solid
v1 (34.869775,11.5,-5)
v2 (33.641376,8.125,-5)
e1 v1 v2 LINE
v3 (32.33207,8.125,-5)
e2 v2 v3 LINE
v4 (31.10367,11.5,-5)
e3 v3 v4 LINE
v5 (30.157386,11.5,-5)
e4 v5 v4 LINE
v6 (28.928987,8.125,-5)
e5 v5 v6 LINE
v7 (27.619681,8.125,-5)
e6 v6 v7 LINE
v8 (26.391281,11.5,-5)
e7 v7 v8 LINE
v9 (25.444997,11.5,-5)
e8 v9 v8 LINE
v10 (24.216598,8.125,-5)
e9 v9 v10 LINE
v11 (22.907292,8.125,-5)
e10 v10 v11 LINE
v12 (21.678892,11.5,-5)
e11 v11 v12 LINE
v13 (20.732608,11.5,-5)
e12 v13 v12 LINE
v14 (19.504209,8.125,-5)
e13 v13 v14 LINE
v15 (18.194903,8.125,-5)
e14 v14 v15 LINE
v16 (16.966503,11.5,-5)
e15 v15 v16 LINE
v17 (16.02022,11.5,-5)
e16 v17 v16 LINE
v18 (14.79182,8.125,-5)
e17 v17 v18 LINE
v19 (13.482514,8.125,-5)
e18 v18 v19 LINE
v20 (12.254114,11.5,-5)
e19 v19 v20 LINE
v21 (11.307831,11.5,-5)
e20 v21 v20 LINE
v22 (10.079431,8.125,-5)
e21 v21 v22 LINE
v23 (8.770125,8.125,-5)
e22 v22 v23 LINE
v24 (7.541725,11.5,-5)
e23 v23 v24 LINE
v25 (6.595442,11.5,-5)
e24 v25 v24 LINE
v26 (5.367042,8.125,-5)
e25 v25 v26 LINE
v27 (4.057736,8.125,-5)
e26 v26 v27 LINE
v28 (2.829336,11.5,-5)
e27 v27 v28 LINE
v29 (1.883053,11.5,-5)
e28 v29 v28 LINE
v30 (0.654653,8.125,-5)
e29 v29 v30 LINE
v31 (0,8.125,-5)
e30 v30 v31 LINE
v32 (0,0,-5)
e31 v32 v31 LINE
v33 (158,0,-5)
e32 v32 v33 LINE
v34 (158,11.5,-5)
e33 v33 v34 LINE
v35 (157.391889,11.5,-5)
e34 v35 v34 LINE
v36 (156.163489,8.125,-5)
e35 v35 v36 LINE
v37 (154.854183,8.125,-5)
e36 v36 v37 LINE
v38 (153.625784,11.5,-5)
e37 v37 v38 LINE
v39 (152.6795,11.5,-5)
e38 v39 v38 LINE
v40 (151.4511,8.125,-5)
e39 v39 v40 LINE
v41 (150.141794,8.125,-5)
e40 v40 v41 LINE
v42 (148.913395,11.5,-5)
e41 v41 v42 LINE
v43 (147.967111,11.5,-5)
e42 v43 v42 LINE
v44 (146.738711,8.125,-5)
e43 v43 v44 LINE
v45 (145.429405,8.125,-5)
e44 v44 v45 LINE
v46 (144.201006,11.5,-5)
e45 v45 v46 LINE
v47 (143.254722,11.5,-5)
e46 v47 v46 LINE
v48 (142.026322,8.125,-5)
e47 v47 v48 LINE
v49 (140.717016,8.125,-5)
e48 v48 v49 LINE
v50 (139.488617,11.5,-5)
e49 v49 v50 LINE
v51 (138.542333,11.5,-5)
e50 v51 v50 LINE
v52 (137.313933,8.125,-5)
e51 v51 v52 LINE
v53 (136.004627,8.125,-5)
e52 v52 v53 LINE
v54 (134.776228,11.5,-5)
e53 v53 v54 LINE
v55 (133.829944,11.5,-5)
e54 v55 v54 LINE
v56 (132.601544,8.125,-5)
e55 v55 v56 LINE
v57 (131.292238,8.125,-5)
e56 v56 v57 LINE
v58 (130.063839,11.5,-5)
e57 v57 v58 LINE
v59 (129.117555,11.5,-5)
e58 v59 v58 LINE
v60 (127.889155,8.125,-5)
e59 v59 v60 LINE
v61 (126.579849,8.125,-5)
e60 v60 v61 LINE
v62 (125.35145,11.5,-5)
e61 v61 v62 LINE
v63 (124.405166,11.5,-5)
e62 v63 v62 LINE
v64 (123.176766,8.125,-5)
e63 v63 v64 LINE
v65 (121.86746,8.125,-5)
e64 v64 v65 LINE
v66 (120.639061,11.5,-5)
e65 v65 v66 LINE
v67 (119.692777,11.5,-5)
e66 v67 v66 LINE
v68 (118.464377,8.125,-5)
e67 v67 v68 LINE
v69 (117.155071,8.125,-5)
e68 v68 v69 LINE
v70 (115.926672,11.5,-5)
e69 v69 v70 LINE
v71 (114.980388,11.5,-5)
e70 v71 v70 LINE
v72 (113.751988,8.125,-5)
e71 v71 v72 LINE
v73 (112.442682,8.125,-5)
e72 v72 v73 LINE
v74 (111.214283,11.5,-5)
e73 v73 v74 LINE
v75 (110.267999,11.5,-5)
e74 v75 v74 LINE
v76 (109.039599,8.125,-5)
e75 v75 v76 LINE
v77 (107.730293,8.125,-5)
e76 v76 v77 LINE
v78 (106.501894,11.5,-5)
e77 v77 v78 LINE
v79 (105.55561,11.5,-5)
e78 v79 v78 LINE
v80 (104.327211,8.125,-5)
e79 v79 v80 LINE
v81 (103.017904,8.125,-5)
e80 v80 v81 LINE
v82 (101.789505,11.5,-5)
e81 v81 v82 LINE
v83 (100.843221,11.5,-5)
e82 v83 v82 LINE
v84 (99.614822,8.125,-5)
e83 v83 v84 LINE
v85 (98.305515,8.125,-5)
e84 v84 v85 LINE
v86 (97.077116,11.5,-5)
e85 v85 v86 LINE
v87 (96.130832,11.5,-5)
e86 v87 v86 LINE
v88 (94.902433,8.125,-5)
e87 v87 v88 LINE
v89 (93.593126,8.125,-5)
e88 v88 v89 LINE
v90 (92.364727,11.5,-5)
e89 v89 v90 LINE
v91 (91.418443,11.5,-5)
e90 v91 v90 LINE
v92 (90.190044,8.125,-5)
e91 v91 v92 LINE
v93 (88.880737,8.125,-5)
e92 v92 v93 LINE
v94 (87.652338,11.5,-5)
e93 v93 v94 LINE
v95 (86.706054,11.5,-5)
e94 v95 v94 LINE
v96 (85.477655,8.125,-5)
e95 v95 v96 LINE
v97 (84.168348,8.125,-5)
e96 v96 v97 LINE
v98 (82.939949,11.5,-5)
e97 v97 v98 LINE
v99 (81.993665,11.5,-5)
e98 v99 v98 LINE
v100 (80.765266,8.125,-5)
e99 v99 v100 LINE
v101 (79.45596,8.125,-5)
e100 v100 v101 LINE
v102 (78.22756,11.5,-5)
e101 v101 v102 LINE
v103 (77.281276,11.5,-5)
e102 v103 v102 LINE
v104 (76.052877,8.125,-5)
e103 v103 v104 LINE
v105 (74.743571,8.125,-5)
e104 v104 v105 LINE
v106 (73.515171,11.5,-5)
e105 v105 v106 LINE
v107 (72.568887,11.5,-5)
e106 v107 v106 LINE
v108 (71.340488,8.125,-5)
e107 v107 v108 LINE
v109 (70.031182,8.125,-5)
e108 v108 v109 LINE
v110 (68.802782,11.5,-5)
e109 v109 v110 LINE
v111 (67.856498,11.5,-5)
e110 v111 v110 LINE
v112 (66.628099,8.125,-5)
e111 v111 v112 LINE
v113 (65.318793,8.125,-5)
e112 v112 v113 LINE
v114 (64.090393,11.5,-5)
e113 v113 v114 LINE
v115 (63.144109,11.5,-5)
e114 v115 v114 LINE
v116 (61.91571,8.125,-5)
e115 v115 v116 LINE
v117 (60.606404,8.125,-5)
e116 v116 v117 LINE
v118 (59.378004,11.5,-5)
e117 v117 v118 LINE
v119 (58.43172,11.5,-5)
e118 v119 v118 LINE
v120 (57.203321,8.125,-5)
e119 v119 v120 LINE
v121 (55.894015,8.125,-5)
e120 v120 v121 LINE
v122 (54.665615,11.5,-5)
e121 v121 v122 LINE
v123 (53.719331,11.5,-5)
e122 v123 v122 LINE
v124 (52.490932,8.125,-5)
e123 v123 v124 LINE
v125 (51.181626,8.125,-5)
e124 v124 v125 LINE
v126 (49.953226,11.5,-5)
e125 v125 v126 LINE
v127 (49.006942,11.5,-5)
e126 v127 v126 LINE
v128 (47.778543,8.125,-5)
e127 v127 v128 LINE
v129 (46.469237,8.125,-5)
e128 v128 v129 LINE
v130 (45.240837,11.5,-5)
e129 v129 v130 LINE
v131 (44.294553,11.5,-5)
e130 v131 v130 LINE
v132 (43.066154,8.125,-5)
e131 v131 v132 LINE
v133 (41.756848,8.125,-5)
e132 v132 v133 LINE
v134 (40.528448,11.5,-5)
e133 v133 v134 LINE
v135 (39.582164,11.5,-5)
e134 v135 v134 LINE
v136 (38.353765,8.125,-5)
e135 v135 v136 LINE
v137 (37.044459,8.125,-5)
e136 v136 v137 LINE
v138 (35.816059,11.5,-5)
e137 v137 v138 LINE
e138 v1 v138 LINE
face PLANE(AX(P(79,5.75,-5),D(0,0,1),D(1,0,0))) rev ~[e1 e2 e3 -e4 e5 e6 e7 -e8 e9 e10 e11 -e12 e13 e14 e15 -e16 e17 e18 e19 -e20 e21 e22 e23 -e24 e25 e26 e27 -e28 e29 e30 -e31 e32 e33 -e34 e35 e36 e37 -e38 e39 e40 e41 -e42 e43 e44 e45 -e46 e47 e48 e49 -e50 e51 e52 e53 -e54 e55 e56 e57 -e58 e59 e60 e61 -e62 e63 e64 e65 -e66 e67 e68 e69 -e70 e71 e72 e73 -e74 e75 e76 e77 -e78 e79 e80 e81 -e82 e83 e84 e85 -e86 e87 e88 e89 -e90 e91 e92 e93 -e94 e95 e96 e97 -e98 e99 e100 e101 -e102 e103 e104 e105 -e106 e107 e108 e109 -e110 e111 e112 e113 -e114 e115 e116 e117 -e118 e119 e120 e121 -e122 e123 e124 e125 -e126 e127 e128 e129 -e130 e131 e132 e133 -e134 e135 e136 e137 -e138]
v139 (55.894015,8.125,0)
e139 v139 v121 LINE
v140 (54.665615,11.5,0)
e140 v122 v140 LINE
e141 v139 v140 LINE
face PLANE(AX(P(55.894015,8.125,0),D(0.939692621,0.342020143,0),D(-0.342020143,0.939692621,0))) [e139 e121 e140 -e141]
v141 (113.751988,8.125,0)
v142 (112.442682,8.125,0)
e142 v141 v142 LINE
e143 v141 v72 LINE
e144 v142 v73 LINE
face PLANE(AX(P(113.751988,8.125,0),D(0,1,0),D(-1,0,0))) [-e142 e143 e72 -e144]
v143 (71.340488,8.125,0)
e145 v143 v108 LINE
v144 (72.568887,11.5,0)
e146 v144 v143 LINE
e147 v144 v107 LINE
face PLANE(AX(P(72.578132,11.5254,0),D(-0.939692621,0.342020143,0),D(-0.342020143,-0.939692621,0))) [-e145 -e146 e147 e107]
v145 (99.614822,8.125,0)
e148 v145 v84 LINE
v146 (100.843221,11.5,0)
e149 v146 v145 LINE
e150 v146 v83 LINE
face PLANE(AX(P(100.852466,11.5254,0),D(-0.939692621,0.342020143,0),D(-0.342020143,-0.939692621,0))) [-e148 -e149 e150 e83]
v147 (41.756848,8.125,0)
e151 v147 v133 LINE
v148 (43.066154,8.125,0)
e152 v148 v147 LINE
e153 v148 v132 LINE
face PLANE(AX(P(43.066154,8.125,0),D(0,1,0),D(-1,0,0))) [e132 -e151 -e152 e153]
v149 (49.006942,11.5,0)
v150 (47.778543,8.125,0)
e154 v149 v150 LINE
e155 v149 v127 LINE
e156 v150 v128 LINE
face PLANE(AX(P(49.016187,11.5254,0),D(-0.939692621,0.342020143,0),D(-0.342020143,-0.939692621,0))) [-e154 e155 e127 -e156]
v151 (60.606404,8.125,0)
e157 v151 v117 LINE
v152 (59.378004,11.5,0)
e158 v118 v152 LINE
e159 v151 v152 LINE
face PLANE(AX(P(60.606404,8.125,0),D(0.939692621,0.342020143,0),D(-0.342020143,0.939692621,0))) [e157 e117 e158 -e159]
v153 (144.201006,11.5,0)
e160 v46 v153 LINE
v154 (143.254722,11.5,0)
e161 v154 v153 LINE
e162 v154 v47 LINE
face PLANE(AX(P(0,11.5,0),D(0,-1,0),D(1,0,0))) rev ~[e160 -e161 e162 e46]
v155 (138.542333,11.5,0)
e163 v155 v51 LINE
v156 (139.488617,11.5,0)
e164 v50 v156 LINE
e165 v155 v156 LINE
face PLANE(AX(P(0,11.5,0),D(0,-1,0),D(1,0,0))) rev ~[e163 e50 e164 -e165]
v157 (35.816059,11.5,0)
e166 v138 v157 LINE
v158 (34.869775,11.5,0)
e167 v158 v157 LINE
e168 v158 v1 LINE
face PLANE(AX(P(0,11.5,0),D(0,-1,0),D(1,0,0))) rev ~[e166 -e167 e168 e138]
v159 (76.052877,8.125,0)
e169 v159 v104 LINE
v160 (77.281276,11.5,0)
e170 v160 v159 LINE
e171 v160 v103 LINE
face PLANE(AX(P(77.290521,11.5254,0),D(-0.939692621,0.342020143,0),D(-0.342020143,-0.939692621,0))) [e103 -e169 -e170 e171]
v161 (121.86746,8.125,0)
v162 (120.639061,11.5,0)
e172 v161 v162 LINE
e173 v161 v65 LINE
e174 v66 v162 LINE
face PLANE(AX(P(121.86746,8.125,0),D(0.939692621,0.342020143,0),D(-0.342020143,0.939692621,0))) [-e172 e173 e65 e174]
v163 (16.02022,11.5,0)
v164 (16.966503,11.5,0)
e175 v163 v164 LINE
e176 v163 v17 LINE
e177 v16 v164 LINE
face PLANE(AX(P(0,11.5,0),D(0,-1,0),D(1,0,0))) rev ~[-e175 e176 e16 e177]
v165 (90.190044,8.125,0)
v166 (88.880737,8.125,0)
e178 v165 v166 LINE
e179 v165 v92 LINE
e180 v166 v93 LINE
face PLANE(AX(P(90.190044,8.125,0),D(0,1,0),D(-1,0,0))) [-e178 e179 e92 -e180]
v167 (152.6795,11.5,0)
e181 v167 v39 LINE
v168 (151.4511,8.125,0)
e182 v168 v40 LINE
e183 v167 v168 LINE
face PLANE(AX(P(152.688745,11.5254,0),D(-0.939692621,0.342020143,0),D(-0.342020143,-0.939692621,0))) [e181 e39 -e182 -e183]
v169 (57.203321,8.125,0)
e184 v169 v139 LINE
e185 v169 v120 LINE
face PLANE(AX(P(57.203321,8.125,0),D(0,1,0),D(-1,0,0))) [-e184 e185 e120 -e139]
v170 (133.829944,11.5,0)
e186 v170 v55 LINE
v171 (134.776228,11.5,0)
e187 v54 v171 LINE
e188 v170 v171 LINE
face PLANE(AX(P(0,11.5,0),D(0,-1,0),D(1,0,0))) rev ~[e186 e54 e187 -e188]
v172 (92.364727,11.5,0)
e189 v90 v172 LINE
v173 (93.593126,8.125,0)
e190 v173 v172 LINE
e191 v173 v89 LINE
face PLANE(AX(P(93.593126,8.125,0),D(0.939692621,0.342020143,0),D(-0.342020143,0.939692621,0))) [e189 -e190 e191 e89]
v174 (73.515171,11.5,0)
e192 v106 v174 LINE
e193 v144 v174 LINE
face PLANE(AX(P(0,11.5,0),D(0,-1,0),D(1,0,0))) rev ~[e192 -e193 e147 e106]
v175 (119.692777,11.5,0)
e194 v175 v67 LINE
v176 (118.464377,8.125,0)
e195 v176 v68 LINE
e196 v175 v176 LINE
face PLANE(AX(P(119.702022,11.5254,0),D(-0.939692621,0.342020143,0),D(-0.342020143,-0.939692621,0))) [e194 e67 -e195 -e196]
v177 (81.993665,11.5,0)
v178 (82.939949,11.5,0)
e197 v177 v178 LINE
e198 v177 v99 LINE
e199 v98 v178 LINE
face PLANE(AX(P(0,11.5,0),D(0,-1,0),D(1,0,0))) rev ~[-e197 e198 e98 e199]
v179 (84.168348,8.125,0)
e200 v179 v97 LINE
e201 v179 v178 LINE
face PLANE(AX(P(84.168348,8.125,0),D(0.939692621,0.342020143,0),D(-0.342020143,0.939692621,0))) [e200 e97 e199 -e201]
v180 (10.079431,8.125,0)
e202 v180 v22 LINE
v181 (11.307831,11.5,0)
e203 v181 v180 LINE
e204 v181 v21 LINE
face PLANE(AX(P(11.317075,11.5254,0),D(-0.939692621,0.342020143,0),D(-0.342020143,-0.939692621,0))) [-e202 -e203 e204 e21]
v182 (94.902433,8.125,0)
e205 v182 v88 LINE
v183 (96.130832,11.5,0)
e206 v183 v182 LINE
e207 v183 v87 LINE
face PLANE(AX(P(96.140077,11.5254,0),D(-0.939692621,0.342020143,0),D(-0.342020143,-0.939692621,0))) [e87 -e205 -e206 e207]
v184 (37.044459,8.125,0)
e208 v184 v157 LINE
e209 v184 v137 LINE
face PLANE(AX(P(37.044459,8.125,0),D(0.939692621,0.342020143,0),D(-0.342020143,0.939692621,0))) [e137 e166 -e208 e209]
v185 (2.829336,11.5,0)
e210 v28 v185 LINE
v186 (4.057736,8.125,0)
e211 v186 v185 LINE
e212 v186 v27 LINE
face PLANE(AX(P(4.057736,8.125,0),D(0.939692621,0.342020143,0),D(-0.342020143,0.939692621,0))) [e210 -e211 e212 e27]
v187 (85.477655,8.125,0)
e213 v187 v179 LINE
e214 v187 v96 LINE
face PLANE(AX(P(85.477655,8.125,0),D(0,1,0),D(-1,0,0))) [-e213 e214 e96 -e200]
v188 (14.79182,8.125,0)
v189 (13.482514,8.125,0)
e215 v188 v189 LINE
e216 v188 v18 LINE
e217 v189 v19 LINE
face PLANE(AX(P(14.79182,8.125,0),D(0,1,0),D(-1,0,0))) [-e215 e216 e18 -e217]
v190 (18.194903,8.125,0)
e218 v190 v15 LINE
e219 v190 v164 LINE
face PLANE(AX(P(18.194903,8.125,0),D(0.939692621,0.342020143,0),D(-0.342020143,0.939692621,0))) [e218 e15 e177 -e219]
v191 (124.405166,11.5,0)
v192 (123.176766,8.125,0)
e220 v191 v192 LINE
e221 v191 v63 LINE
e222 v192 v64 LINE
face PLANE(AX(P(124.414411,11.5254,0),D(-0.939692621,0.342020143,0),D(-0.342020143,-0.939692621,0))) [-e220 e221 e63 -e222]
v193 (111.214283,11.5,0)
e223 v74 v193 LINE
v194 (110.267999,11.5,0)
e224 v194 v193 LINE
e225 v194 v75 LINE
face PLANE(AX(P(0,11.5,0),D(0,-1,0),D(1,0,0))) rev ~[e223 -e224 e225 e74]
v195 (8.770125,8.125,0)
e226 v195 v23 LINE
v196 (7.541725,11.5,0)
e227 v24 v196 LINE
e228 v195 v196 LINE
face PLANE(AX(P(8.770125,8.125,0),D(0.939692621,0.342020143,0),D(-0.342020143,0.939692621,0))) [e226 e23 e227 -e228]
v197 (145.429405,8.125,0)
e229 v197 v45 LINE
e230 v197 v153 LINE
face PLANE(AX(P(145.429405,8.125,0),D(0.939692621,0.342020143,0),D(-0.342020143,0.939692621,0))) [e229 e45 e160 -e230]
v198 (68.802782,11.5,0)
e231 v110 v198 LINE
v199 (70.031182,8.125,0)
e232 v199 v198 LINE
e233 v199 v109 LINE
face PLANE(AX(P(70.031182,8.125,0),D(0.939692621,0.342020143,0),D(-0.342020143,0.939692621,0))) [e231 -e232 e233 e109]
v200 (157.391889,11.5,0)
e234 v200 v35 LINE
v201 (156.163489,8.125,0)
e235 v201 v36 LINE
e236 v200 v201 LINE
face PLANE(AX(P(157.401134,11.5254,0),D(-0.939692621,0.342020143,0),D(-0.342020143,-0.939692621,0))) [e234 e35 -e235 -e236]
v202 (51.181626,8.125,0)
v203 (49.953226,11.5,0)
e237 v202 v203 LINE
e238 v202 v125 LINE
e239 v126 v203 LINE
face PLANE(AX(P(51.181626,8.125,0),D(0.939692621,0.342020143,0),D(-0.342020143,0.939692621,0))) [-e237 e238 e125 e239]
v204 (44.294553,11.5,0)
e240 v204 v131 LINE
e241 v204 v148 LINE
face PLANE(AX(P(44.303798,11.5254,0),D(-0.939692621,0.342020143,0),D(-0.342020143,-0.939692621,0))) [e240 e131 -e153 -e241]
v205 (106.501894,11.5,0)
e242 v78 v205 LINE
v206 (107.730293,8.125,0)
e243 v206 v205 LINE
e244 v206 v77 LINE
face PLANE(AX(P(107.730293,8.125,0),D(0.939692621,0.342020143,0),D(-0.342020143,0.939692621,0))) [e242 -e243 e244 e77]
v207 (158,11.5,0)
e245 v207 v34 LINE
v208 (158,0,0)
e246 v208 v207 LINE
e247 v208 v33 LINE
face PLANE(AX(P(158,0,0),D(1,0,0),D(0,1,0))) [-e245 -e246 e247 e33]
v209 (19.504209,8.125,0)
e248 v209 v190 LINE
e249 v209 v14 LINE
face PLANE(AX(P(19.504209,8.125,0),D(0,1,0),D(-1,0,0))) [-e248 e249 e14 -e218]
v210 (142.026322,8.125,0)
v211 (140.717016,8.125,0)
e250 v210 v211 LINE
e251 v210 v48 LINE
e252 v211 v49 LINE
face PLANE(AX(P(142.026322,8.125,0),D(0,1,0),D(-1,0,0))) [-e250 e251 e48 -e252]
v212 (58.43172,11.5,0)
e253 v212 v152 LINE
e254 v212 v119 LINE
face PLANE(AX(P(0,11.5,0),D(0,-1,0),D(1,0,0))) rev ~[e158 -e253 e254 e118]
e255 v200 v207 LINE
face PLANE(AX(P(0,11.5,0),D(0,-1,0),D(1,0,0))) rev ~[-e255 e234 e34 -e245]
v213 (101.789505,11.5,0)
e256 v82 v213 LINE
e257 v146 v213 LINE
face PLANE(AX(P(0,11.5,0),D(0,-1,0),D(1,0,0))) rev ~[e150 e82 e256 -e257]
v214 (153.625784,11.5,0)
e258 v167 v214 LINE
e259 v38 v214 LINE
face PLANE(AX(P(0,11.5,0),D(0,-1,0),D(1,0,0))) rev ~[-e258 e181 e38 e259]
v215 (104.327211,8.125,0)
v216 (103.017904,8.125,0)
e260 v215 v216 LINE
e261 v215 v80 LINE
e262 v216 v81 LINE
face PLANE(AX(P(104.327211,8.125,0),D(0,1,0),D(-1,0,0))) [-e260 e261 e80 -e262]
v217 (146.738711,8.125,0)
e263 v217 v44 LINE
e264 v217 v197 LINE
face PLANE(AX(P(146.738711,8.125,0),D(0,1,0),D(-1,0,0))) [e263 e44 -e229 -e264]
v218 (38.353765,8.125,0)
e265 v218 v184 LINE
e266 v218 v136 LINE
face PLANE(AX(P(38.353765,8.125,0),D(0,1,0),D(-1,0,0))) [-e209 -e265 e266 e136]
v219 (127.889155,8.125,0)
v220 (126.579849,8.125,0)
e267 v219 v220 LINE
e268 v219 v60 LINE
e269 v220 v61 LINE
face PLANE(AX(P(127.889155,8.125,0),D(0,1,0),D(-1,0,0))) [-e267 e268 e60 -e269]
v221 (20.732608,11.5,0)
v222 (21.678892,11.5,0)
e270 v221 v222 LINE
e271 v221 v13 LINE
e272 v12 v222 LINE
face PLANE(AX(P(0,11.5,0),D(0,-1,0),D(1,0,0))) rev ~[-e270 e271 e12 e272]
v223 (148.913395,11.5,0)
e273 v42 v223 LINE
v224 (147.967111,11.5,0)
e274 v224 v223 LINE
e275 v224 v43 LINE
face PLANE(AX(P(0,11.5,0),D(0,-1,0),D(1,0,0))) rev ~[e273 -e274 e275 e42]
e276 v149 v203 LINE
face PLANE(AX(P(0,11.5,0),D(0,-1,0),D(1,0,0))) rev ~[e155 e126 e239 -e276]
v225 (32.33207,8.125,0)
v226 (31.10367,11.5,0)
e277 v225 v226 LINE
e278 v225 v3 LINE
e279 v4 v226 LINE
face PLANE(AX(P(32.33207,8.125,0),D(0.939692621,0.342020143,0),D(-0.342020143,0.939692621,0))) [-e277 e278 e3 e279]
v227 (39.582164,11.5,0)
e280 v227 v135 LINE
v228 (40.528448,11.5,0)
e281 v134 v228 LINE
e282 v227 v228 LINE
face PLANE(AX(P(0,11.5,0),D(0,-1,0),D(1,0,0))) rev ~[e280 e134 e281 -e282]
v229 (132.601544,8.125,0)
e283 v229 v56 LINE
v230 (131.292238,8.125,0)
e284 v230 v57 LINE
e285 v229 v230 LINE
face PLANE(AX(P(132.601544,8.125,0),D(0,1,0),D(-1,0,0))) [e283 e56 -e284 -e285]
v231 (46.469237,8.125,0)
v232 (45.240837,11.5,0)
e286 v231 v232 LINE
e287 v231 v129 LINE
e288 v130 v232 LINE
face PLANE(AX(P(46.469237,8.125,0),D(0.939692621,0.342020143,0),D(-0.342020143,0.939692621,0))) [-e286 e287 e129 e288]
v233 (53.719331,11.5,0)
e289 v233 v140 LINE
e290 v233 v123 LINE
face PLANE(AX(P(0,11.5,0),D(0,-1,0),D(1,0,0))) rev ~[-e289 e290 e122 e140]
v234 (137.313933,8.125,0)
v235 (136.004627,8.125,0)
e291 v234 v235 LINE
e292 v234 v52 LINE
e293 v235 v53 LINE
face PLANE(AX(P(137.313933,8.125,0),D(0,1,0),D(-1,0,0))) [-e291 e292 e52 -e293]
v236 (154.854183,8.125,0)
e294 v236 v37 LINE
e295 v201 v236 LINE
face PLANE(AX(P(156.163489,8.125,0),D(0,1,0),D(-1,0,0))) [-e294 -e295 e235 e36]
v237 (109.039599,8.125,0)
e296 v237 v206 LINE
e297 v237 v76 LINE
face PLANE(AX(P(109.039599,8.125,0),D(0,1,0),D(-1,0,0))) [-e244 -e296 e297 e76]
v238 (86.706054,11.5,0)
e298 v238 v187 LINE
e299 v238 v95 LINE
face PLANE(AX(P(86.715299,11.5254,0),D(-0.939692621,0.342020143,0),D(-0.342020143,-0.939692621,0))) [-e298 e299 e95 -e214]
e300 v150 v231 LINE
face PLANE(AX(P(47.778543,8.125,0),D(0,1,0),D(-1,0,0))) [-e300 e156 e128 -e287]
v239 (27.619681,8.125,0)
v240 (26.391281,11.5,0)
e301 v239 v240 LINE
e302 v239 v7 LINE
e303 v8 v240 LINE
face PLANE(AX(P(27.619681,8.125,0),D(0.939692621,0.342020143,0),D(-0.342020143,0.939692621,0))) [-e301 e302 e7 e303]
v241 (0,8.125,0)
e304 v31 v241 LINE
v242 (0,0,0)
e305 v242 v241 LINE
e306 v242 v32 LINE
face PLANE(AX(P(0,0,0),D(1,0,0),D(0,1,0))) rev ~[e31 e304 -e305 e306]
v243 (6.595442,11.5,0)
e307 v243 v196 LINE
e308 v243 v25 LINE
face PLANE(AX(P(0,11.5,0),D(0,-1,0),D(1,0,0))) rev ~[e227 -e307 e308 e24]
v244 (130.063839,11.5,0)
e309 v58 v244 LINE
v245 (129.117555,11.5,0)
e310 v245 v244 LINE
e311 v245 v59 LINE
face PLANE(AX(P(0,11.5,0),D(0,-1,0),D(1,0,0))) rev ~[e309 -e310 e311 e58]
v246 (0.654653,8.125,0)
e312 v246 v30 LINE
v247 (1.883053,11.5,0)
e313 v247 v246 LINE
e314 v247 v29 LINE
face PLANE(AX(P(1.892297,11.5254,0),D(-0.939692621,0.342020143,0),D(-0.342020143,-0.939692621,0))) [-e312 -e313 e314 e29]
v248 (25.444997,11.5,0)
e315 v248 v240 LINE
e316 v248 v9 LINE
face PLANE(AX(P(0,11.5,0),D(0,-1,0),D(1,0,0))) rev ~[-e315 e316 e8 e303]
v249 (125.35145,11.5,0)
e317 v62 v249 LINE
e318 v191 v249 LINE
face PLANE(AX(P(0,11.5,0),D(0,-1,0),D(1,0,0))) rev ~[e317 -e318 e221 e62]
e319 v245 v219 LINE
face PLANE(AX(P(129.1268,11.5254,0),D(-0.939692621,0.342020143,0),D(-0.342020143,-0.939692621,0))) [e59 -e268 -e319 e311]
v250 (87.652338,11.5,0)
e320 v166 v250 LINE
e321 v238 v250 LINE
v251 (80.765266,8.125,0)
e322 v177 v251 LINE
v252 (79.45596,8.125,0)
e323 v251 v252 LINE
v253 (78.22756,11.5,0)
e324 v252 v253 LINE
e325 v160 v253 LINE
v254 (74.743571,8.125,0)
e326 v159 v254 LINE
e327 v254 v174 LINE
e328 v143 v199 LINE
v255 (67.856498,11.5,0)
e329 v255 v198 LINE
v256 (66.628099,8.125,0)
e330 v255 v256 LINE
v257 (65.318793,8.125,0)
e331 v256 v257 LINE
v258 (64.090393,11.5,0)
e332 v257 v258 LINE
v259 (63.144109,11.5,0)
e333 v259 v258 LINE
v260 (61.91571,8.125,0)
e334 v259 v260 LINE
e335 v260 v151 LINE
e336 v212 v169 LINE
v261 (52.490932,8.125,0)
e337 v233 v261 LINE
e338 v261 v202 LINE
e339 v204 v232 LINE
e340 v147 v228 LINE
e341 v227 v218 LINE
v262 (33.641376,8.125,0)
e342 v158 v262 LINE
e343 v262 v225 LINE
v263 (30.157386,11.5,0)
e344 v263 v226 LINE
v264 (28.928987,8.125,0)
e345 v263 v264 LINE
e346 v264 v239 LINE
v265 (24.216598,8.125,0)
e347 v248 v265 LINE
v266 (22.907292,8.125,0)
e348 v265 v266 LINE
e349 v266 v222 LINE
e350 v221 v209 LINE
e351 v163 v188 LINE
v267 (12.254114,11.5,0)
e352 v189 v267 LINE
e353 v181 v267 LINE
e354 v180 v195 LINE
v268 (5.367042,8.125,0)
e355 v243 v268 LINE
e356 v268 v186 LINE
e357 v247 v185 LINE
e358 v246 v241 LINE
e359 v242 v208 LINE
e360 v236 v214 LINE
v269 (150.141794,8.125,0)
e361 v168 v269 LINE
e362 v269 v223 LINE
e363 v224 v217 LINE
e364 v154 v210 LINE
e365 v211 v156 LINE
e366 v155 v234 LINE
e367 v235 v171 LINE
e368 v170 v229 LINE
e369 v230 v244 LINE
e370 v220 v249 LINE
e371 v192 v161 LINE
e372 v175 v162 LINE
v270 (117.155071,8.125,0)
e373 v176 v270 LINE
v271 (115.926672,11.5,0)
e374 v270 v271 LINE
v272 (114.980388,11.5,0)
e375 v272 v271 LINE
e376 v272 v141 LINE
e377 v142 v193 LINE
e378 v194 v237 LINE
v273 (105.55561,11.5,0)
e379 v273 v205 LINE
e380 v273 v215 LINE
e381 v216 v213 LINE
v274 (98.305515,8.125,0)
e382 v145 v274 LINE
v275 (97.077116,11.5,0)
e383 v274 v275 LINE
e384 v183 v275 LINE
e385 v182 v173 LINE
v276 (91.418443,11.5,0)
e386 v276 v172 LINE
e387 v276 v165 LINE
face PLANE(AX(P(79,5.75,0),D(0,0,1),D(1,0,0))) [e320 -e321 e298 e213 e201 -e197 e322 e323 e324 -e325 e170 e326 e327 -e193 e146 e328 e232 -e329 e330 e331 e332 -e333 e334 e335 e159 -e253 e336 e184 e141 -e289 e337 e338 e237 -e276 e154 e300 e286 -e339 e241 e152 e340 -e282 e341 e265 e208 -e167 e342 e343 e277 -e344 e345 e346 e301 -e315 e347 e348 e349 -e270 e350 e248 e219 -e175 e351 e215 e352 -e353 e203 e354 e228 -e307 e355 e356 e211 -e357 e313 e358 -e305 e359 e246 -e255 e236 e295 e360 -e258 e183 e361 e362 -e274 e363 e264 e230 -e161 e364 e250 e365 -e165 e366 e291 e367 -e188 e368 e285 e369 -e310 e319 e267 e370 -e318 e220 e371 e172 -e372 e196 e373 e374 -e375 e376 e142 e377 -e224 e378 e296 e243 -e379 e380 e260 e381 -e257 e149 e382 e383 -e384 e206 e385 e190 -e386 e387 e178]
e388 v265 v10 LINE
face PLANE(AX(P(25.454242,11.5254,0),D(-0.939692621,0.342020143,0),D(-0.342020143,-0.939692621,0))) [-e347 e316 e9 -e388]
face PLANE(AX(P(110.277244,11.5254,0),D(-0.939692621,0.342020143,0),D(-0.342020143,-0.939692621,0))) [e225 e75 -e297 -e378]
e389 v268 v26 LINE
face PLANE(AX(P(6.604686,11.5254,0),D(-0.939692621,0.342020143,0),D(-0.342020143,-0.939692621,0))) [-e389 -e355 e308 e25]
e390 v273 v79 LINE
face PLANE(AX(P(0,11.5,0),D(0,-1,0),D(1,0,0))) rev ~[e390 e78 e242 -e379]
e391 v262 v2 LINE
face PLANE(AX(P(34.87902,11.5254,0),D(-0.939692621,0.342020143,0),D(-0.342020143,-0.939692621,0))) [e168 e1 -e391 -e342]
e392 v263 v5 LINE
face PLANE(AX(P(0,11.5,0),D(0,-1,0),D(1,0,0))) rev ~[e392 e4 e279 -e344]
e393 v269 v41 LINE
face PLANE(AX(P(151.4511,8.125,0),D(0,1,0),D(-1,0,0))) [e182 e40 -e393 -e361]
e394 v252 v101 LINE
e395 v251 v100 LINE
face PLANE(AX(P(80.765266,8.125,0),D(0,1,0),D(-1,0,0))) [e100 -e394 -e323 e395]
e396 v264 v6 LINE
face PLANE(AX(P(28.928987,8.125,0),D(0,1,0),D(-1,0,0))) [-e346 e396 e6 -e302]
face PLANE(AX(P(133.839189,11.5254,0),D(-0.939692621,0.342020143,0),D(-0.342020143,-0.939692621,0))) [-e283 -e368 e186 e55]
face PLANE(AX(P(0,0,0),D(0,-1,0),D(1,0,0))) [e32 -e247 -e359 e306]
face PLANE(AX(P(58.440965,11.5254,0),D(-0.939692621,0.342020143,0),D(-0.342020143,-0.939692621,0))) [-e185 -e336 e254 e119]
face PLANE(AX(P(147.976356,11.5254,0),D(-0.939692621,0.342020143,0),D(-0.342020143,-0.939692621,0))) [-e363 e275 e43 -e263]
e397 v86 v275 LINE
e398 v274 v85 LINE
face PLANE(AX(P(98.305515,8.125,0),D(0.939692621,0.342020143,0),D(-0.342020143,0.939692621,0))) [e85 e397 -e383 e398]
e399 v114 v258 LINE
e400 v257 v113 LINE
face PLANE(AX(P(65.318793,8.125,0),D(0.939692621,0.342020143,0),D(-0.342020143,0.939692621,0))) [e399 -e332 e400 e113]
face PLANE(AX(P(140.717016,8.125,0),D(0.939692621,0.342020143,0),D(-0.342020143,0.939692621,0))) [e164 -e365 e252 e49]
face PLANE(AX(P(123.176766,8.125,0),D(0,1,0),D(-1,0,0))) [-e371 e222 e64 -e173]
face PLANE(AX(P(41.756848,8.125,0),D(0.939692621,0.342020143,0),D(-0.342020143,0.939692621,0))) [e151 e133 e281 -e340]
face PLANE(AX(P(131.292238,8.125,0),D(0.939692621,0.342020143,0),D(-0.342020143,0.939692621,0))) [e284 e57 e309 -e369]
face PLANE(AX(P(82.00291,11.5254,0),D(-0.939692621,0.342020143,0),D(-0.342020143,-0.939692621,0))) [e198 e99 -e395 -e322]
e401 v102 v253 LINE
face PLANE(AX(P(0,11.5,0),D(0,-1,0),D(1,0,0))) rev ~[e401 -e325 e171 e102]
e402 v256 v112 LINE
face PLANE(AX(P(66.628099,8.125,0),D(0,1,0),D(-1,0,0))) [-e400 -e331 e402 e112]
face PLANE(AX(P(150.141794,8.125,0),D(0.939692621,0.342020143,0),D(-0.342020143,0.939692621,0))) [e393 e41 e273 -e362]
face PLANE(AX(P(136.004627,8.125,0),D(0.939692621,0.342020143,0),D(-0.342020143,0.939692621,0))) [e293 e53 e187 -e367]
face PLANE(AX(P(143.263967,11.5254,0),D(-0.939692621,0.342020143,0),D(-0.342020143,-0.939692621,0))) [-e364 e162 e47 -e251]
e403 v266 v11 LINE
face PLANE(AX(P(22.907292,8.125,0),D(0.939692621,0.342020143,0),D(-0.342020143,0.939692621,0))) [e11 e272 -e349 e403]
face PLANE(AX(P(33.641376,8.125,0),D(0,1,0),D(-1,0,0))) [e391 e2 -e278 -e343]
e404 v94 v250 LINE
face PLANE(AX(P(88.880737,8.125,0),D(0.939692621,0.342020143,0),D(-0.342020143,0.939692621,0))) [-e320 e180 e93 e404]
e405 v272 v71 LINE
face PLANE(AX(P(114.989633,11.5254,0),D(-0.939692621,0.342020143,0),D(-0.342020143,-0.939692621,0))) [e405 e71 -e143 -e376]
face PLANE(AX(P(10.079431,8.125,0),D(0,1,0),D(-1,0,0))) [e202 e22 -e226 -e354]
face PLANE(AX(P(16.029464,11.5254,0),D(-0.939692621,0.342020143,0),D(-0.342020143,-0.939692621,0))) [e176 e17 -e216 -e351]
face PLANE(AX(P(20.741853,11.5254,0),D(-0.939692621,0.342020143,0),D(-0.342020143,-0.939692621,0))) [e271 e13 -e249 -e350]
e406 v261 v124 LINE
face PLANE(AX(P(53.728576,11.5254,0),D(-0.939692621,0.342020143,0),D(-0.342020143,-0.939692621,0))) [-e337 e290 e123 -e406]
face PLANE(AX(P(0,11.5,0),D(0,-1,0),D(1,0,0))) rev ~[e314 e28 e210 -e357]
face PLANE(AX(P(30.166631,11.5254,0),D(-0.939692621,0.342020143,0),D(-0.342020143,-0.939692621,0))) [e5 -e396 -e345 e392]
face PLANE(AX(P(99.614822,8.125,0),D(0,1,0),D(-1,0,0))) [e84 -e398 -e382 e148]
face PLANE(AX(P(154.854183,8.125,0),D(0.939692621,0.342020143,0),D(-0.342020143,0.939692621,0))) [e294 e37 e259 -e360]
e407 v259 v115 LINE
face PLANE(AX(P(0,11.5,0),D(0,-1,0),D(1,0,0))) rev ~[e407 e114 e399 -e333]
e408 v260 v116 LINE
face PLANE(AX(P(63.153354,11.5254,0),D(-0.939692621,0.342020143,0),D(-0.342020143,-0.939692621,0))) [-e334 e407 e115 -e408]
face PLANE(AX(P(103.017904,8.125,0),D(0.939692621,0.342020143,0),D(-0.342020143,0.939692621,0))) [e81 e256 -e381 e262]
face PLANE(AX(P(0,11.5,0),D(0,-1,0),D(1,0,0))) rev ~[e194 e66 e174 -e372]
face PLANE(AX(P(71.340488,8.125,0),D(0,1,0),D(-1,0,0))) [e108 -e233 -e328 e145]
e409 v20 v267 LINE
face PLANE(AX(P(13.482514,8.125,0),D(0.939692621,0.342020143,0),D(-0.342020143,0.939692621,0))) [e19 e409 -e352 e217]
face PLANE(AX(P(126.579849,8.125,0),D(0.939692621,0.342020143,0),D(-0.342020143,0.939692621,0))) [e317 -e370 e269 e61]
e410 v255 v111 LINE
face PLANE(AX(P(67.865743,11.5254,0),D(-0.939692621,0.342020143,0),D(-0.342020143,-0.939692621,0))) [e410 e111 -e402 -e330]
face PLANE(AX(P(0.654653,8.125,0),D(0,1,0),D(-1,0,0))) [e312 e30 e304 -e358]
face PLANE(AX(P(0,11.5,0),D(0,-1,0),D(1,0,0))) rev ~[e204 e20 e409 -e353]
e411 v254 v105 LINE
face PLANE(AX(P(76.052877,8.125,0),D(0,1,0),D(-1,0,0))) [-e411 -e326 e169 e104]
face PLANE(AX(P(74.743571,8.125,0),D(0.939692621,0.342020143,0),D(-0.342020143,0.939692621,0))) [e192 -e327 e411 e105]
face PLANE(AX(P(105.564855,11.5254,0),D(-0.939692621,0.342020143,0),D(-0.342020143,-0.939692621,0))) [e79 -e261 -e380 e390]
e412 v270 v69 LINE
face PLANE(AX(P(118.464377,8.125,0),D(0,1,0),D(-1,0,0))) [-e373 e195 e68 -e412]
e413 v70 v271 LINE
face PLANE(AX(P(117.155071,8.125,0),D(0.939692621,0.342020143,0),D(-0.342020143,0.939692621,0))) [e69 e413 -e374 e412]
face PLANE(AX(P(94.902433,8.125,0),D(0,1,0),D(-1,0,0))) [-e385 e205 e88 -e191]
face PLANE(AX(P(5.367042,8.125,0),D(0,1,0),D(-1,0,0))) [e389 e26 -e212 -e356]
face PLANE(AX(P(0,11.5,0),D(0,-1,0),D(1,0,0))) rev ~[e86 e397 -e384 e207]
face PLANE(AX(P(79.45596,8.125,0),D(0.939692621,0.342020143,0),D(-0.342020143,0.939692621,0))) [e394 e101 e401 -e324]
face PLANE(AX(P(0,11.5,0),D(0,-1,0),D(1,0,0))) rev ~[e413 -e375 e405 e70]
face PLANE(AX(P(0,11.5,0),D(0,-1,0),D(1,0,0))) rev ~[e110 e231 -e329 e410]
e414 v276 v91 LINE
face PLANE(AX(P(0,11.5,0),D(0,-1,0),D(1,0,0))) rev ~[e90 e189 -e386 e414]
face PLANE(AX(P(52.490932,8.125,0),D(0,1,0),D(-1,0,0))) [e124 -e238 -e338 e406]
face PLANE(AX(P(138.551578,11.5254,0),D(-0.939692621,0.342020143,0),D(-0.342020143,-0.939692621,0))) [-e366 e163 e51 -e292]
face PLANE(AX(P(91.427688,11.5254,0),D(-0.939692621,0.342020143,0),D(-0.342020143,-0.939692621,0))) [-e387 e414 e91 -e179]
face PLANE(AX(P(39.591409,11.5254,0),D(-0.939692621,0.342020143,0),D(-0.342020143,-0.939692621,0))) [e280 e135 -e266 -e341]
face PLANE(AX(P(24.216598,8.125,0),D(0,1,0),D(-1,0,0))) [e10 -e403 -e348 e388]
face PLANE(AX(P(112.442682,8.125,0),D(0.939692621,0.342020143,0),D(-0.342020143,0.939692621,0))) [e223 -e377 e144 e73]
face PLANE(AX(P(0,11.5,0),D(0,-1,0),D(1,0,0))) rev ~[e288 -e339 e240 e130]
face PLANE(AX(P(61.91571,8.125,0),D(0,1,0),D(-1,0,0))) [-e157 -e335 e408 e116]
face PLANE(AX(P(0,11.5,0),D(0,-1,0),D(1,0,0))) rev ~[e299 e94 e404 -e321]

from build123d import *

# Parameters (mm, degrees)
BLANKSKE_W        = 158
BLANKSKE_H        = 11.5
BLANK_DEPTH       = 5
TOOTHCUTSIM_DEPTH = 159.496845394
TEETHCUTS_COUNT   = 34
TEETHCUTS_PITCH   = 4.712388975


with BuildPart() as part:
    # BlankSke → Blank (new body)
    with BuildSketch(Plane.XY):
        with Locations((79, 5.75)):
            Rectangle(BLANKSKE_W, BLANKSKE_H)
    extrude(amount=-BLANK_DEPTH)

    # TooCutSkeSim → ToothCutSim (cut, through all)
    with BuildSketch(Plane.XY):
        Polygon((0.654653055, 8.125), (-0.654653055, 8.125), (-1.892297439, 11.5254), (1.892297439, 11.5254), align=None)
    toothcutsim = extrude(amount=-TOOTHCUTSIM_DEPTH, mode=Mode.SUBTRACT)

    # TeethCuts: ToothCutSim ×34
    with Locations(*[(i * TEETHCUTS_PITCH, 0, 0) for i in range(1, TEETHCUTS_COUNT)]):
        add(toothcutsim, mode=Mode.SUBTRACT)


solid = part.part
